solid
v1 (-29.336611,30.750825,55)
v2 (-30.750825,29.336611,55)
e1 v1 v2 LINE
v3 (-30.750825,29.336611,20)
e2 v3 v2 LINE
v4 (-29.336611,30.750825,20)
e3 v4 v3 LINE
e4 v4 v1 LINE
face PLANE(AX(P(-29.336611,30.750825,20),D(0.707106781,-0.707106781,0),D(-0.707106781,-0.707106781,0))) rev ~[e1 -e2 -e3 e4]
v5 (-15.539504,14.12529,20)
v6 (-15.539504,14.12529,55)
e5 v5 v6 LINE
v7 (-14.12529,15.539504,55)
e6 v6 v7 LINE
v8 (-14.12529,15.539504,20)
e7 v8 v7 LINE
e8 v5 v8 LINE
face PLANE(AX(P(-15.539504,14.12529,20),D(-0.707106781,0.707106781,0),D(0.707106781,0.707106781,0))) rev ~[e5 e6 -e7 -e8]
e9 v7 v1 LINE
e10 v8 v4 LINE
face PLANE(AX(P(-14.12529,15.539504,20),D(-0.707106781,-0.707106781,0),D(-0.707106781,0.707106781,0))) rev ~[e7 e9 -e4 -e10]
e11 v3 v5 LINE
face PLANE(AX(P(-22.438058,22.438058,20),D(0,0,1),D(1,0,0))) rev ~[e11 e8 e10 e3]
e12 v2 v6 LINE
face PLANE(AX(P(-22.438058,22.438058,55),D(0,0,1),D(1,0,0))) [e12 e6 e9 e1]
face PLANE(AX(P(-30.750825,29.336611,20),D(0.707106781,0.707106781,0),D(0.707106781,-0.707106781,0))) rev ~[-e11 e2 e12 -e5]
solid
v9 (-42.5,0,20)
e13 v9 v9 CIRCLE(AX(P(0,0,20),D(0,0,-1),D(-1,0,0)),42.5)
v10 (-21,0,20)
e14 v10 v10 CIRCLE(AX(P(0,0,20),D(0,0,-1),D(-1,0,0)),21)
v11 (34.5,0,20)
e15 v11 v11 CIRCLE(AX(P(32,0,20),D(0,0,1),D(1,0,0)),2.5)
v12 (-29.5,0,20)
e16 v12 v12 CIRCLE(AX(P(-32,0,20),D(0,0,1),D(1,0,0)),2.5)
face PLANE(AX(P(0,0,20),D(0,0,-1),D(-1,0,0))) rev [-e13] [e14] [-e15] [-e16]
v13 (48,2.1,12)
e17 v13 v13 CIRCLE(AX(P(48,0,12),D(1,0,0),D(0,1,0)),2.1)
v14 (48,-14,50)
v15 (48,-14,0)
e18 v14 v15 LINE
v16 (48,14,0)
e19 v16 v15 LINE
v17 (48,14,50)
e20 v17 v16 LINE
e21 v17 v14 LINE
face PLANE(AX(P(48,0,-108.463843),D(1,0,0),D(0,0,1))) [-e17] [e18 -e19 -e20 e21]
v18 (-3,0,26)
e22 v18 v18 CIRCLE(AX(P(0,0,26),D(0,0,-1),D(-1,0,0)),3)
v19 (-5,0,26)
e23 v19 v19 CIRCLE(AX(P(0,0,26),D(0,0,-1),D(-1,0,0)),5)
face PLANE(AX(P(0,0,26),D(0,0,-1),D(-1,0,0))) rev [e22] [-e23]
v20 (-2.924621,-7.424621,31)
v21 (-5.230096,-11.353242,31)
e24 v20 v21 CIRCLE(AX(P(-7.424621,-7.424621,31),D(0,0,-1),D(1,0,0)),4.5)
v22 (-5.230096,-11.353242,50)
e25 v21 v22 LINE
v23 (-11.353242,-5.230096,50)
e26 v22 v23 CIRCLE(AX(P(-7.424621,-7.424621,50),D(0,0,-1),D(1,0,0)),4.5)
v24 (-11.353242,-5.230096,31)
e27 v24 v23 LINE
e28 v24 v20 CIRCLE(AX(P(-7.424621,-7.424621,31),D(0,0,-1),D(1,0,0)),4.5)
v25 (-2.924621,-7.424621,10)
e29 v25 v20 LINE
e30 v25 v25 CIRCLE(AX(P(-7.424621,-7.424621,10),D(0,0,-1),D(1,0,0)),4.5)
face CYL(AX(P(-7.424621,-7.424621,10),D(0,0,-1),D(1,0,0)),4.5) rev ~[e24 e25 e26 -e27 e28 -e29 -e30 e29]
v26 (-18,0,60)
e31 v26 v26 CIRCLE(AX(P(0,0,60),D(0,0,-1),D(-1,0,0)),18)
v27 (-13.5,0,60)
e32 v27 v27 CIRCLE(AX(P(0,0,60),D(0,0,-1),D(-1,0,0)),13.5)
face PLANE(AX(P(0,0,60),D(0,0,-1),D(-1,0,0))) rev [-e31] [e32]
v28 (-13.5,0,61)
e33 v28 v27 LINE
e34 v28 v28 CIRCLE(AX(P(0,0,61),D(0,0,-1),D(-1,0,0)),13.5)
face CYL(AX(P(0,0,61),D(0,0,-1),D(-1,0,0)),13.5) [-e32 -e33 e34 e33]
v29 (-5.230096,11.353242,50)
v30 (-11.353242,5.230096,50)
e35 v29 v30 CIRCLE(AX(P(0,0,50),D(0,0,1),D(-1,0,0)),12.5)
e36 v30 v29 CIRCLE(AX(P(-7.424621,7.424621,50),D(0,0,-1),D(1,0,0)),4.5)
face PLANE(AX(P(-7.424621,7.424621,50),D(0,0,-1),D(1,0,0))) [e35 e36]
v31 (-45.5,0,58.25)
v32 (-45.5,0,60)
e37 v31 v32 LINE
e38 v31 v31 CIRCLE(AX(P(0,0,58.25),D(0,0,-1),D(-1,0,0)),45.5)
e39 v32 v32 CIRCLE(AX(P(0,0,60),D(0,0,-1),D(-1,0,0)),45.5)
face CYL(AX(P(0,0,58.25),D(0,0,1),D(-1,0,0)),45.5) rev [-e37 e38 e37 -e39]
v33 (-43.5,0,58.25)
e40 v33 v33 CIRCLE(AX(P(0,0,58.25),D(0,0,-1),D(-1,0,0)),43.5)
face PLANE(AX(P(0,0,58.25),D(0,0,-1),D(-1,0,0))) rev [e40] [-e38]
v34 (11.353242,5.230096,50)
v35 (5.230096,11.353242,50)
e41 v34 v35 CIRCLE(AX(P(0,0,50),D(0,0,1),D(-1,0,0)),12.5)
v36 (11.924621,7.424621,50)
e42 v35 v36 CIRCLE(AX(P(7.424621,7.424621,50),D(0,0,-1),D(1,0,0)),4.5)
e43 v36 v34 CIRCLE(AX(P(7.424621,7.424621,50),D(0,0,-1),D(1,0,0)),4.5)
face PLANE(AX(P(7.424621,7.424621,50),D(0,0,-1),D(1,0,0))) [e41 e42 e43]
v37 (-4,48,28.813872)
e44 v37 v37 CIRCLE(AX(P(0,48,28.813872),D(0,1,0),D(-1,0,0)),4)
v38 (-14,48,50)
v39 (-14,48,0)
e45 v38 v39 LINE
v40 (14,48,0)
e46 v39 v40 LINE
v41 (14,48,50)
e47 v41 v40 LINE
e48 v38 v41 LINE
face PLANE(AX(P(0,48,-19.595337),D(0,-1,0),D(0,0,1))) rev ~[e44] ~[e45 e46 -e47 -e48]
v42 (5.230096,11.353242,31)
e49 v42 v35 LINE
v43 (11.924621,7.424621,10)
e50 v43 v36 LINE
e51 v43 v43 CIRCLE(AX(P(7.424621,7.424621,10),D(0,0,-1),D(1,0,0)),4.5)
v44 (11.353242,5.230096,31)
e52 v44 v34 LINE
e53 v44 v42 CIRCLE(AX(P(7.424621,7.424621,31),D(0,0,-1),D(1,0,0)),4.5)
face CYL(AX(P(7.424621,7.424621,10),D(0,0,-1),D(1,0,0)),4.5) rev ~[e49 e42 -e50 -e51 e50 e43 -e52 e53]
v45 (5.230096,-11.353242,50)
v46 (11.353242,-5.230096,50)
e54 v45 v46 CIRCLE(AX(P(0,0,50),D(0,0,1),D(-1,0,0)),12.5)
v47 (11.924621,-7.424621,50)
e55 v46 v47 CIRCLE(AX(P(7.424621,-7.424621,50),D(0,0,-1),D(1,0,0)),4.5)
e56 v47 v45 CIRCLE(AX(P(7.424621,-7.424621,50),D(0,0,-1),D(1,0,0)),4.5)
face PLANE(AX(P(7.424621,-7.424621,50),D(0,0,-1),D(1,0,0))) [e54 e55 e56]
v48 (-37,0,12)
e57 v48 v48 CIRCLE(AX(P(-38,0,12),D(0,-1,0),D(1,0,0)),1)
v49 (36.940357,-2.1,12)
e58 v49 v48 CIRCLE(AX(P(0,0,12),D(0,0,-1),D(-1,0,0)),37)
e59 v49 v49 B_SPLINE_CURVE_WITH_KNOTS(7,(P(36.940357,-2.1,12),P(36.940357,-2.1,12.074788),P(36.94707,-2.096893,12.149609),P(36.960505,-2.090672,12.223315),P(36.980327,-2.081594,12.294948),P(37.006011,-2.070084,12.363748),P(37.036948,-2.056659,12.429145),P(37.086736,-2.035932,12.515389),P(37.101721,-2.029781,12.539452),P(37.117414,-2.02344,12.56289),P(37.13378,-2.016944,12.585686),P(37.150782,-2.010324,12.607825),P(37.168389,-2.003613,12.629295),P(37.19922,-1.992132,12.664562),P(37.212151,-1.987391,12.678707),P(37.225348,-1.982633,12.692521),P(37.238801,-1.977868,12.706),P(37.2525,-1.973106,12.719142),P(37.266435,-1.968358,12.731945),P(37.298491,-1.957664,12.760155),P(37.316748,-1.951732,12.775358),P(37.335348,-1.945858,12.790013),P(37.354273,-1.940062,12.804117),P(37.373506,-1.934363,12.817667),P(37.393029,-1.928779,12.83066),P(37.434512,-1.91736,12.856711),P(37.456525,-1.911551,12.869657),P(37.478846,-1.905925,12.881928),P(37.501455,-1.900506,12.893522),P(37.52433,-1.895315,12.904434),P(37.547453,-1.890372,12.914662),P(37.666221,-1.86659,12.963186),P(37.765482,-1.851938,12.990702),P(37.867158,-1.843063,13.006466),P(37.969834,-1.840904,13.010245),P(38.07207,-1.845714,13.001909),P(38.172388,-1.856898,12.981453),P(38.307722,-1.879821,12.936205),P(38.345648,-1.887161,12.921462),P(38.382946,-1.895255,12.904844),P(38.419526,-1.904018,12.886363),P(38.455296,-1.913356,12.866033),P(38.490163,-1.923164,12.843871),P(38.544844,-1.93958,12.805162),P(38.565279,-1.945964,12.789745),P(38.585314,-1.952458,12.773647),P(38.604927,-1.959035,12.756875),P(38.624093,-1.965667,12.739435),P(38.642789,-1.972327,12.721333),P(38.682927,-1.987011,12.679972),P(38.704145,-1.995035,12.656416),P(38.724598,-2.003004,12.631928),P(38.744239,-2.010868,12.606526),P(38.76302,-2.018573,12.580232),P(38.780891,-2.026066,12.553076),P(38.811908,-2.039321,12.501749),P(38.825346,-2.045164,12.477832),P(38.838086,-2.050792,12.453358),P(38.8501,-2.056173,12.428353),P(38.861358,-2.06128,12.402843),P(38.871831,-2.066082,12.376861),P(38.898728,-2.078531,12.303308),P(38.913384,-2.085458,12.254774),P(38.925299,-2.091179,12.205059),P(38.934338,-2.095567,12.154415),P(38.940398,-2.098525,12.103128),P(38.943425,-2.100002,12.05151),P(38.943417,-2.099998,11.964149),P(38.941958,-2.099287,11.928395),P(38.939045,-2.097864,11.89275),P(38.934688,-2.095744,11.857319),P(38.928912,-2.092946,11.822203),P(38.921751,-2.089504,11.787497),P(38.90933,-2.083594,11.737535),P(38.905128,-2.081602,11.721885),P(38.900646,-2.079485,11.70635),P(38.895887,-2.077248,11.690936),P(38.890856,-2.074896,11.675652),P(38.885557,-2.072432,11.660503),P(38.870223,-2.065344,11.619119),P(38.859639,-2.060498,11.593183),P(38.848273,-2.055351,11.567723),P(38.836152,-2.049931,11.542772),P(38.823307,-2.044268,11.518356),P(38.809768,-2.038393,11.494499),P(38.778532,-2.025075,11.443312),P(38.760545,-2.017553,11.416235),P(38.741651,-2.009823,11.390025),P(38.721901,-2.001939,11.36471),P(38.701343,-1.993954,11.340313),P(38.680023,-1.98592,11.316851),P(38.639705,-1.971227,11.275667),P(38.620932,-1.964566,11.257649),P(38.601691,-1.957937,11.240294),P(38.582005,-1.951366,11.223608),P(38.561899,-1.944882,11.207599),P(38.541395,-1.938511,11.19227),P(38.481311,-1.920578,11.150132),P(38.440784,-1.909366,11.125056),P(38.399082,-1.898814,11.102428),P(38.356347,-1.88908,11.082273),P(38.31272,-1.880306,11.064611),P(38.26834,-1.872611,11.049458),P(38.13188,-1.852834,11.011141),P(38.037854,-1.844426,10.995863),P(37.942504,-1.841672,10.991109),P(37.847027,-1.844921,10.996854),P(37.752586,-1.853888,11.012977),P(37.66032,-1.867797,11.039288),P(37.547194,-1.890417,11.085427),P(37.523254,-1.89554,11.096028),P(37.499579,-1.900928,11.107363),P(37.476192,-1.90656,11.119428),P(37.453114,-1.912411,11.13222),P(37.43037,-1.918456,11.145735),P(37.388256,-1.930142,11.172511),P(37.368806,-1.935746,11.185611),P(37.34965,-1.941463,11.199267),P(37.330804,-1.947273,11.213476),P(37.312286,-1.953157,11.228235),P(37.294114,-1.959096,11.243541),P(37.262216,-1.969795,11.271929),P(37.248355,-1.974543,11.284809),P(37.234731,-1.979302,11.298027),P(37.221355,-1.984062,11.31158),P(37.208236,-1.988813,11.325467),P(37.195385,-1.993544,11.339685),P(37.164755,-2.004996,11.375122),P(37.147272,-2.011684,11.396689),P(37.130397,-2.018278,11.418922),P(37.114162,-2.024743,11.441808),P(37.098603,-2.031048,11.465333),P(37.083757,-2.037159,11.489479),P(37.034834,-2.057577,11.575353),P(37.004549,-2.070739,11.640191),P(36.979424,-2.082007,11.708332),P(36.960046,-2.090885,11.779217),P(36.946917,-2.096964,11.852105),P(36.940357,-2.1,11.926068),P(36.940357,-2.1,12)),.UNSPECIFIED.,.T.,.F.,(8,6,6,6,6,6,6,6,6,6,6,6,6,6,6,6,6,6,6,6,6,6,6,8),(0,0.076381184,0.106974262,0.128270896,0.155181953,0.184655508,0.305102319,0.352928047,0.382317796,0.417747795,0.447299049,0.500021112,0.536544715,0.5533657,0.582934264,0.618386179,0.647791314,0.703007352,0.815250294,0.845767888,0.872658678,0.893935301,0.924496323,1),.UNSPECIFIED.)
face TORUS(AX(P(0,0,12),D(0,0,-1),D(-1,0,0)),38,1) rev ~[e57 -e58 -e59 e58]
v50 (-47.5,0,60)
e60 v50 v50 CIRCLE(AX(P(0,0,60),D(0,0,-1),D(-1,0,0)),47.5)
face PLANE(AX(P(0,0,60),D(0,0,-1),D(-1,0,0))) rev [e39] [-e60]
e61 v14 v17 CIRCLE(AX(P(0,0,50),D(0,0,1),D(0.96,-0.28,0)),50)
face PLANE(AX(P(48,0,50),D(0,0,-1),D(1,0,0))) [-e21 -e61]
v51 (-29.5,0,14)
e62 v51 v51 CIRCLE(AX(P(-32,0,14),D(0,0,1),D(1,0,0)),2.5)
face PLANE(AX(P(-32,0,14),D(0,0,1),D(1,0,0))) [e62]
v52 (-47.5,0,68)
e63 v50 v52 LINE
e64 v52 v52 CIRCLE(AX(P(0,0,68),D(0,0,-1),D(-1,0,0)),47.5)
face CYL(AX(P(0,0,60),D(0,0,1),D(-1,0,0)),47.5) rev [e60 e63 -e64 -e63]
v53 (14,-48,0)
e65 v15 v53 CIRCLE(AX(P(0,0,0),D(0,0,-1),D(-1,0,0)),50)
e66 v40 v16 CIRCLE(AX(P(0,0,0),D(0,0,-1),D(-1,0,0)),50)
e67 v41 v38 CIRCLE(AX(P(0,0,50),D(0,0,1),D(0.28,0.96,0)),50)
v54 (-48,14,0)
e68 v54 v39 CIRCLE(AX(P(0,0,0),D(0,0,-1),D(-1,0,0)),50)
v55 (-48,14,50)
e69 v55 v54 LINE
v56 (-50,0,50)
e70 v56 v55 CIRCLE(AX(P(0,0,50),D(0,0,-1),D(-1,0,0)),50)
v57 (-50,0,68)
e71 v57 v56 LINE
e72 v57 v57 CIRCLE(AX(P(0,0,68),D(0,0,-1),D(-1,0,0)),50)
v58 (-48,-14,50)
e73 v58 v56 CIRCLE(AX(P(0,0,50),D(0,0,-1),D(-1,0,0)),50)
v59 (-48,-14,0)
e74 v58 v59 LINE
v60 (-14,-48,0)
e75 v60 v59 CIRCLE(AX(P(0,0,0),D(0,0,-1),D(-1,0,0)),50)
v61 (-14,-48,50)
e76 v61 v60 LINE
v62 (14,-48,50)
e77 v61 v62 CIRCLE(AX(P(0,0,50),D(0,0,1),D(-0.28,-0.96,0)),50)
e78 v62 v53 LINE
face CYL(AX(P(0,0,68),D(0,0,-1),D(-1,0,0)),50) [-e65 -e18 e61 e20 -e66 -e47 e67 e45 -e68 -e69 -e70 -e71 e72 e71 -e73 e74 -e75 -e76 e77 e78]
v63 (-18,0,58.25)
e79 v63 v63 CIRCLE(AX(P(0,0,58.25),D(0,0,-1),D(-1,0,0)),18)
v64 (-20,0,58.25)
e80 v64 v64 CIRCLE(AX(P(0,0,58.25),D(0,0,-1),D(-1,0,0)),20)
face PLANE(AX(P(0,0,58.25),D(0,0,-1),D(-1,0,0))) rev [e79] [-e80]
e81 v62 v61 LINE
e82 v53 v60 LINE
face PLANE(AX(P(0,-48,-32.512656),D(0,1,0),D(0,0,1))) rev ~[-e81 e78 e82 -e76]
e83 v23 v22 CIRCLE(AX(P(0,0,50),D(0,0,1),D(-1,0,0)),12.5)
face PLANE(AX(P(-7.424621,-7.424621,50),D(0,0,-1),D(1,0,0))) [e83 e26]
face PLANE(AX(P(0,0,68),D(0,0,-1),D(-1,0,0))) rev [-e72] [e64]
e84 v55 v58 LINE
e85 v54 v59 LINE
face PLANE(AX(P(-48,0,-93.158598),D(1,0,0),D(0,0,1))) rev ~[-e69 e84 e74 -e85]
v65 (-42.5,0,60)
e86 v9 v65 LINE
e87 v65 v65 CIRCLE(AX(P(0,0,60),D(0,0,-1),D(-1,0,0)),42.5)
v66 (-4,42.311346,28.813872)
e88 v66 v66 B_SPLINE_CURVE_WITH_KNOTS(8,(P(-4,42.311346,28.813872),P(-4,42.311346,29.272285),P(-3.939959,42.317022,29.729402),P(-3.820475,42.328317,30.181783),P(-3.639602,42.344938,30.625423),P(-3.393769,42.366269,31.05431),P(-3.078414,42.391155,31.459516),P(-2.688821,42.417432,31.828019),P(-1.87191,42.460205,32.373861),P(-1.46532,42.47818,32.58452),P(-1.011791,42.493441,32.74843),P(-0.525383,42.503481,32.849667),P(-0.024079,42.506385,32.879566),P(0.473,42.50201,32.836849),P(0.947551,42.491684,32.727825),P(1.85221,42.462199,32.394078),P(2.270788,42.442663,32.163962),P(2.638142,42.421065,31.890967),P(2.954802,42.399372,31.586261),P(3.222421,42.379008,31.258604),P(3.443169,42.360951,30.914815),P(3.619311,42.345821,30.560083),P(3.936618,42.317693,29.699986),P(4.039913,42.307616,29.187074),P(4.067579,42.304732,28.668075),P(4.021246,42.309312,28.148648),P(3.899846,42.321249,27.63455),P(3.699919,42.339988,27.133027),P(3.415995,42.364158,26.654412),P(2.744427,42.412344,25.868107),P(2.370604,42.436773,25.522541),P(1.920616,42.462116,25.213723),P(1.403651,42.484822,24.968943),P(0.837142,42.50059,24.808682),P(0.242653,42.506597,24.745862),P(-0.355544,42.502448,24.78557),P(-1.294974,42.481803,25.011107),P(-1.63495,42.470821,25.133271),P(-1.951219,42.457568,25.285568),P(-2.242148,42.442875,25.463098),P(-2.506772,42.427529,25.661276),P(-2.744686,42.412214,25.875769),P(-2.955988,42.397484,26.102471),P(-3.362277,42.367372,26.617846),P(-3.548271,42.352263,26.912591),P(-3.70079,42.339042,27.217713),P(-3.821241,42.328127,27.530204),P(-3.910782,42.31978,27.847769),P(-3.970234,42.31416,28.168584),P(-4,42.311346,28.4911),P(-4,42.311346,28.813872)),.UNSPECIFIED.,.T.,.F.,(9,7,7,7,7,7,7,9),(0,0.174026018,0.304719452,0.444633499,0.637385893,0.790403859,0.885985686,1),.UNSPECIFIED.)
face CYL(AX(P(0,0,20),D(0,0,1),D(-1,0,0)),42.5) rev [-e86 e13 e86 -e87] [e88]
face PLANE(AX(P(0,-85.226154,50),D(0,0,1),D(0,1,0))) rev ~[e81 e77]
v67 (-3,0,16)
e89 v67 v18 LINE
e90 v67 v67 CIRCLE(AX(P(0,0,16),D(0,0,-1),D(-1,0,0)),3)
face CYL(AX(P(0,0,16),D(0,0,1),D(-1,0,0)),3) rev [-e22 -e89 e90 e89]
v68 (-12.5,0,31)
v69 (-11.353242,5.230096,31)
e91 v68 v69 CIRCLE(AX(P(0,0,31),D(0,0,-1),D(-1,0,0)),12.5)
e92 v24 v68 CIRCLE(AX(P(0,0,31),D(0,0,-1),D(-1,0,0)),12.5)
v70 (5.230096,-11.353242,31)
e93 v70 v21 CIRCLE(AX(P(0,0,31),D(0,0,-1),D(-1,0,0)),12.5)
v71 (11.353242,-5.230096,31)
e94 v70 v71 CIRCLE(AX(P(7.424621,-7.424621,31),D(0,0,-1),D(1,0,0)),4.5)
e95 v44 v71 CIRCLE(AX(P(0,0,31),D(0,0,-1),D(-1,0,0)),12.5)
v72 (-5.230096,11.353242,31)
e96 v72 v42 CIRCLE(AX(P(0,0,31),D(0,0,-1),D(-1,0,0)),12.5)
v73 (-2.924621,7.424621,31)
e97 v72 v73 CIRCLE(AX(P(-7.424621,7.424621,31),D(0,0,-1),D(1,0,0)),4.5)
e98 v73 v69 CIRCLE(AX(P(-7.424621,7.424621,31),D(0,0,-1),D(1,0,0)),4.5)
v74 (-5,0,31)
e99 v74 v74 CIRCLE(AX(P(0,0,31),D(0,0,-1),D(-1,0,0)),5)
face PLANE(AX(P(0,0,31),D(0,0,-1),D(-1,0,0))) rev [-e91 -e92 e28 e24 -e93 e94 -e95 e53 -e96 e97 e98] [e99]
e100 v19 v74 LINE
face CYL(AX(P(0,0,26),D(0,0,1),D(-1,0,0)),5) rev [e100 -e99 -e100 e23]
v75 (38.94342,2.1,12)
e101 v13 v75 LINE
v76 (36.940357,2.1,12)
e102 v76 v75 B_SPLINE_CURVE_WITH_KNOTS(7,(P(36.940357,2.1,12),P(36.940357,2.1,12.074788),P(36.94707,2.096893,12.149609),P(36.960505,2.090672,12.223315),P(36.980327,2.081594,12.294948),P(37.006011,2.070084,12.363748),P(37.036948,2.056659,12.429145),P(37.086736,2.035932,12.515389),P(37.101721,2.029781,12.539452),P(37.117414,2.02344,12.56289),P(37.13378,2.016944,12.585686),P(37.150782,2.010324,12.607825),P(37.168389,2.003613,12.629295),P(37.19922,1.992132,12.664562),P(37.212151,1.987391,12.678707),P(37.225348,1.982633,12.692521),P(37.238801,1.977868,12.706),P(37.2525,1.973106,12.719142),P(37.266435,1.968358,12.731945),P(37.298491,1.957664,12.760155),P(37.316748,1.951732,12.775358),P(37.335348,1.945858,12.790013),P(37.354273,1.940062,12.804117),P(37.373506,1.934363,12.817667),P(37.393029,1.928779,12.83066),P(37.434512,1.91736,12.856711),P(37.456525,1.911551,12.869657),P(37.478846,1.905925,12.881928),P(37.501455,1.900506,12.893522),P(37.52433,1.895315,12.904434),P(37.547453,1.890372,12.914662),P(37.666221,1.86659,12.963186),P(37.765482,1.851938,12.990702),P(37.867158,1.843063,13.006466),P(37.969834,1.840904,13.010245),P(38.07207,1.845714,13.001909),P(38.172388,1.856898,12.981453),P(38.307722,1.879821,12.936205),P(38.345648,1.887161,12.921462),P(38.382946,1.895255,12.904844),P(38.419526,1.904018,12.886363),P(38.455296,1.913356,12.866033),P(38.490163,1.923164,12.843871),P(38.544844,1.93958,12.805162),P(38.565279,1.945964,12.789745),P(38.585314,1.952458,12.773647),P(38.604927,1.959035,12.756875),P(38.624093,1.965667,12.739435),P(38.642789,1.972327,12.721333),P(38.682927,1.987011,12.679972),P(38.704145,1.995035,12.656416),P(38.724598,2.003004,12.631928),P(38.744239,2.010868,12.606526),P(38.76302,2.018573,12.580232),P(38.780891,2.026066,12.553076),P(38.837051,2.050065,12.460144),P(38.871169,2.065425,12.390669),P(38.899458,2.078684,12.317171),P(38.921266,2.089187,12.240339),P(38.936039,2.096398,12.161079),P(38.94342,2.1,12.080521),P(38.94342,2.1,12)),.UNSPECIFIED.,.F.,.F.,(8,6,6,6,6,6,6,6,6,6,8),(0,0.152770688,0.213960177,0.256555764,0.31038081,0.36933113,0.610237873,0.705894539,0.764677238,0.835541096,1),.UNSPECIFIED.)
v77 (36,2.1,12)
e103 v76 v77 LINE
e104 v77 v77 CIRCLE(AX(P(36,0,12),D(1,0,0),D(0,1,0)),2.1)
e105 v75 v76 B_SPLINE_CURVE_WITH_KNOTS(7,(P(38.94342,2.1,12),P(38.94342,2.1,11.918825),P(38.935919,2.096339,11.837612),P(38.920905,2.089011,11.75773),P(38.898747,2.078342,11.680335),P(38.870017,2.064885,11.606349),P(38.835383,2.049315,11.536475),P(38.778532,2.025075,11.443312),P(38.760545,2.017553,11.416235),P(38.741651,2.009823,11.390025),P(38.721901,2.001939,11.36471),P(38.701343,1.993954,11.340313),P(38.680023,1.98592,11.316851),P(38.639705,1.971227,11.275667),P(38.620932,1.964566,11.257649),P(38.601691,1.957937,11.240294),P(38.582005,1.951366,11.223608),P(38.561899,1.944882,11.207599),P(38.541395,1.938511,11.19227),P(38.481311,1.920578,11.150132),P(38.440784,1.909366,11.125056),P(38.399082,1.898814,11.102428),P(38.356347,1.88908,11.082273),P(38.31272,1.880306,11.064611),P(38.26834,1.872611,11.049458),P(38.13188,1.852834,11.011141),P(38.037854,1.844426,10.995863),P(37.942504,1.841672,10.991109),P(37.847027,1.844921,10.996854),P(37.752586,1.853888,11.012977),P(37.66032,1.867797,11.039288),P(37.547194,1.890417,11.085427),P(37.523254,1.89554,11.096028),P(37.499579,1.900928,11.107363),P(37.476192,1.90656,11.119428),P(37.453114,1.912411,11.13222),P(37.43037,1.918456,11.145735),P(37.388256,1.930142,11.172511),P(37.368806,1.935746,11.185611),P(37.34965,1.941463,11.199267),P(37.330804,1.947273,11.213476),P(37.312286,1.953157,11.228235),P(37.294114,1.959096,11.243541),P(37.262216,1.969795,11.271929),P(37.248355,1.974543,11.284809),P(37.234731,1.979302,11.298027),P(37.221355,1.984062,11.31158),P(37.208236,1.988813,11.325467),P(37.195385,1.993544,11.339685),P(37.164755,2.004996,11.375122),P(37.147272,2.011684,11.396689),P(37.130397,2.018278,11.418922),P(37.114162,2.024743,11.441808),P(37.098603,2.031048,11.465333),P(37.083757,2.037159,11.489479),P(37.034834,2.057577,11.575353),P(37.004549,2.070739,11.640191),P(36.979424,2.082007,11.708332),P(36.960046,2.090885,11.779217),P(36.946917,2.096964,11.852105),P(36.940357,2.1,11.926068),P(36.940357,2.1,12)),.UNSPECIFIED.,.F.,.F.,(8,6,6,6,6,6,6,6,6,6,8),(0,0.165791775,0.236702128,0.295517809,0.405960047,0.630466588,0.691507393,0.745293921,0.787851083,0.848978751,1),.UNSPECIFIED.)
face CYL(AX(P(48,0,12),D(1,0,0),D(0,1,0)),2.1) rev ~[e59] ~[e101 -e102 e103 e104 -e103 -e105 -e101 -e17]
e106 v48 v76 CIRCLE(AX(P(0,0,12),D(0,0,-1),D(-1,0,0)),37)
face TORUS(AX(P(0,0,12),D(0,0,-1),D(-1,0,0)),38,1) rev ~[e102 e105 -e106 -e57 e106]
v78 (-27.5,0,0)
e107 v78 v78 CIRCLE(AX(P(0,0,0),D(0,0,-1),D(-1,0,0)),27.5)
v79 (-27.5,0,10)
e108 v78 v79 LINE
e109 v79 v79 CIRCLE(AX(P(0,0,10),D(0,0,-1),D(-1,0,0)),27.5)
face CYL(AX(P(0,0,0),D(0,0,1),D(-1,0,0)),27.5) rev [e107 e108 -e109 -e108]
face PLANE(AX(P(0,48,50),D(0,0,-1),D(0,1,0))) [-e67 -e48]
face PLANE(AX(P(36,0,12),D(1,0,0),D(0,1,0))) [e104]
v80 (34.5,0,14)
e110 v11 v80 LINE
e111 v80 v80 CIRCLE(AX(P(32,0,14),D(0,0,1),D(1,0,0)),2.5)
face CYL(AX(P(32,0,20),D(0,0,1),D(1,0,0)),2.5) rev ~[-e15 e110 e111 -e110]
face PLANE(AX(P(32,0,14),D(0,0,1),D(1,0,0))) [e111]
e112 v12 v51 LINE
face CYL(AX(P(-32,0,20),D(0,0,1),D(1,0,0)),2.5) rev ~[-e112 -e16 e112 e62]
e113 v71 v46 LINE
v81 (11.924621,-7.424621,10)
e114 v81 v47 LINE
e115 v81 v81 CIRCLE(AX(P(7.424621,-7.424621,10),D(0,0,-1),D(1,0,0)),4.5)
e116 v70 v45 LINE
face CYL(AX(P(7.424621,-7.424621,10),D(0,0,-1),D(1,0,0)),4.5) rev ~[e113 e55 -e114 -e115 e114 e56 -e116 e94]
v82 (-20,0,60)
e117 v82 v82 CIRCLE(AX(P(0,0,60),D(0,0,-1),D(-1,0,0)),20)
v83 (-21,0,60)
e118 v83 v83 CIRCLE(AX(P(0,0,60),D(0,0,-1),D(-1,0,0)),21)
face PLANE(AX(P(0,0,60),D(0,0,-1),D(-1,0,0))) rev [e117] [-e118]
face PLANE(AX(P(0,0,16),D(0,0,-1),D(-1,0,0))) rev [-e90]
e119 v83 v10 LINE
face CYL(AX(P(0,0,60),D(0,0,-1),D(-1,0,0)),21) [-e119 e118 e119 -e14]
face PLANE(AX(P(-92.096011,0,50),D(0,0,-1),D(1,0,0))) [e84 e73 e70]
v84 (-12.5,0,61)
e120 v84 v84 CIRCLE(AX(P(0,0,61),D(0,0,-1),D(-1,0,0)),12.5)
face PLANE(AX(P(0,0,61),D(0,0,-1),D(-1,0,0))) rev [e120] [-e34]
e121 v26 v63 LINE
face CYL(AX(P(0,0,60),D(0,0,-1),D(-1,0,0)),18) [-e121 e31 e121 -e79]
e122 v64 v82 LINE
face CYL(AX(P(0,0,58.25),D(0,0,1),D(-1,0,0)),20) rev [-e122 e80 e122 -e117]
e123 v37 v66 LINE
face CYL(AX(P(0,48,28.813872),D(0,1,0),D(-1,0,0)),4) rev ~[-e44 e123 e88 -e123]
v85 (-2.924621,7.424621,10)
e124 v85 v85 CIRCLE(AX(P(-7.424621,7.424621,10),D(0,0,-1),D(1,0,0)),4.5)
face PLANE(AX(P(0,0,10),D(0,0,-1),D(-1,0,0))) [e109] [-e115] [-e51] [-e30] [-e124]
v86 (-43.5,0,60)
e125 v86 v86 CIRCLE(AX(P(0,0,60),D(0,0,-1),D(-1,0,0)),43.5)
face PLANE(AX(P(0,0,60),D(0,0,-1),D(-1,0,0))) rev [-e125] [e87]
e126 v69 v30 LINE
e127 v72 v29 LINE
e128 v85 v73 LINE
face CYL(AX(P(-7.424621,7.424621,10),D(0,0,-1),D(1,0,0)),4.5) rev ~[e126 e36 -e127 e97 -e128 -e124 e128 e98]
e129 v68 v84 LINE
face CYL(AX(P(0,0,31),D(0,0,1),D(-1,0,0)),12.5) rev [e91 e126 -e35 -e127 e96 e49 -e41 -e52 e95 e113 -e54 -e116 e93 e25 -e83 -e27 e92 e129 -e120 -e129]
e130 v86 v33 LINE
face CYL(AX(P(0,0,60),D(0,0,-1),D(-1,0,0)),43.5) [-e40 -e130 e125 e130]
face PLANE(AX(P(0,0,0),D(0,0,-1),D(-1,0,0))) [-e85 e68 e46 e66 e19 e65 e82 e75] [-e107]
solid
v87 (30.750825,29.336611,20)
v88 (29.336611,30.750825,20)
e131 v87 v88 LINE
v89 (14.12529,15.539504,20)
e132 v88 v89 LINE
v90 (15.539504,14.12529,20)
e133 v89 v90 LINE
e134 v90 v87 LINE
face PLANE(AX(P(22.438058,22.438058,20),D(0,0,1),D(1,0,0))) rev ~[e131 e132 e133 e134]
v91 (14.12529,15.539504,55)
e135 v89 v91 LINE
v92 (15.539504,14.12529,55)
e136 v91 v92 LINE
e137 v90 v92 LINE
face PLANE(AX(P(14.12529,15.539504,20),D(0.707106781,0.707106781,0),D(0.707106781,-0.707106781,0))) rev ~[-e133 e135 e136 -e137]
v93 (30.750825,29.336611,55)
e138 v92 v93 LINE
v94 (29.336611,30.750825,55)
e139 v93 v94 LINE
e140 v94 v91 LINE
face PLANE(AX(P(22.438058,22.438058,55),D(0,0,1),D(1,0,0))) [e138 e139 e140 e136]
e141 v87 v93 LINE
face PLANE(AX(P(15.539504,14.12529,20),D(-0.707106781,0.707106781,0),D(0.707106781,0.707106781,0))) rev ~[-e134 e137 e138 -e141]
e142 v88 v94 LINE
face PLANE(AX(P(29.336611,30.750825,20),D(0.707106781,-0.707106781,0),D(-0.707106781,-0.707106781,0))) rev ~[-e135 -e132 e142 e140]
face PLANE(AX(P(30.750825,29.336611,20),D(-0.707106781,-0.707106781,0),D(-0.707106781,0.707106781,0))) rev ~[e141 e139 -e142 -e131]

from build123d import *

# Parameters (mm, degrees)
F0_R           = 1
F2_W           = 44.0960112051
F2_H           = 143.1585978536
F2_W_2         = 29.2622874999
F2_H_2         = 158.4638434939
F3_DEPTH       = 50.001
F3_DEPTH_BACK  = 50.001
F4_R           = 2.1
F5_DEPTH       = 12
F6_R           = 4.5
F7_DEPTH       = 40
F8_R           = 2.5
F9_DEPTH       = 6
F11_DEPTH      = 35
F12_W          = 44.5515640792
F12_H          = 69.5953371296
F12_W_2        = 37.2261542232
F12_H_2        = 82.5126560354
F13_DEPTH      = 50.001
F13_DEPTH_BACK = 50.001
F14_R          = 4
F15_DEPTH      = 10


with BuildPart() as f1:
    # F0 (on Front) → F1 (revolve)
    with BuildSketch(Plane.XZ):
        Polygon((-47.5, 68), (-50, 68), (-50, 0), (-27.5, 0), (-27.5, 10), (0, 10), (0, 16), (-3, 16), (-3, 26), (-5, 26), (-5, 31), (-12.5, 31), (-12.5, 60), (-12.5, 61), (-13.5, 61), (-13.5, 60), (-18, 60), (-18, 58.25), (-20, 58.25), (-20, 60), (-21, 60), (-21, 20), (-42.5, 20), (-42.5, 60), (-43.5, 60), (-43.5, 58.25), (-45.5, 58.25), (-45.5, 60), (-47.5, 60), align=None)
        with Locations((-38, 12)):
            Circle(F0_R, mode=Mode.SUBTRACT)
    revolve(axis=Axis((0, 0, 27.3842578754), (0, 0, -1)))

    # F2 (on Front) → F3 (cut, two sides)
    with BuildSketch(Plane.XZ) as f3_sk:
        with Locations((-70.0480056025, -21.5792989268)):
            Rectangle(F2_W, F2_H)
        with Locations((62.6311437499, -29.2319217469)):
            Rectangle(F2_W_2, F2_H_2)
    extrude(amount=F3_DEPTH, mode=Mode.SUBTRACT)
    extrude(f3_sk.sketch, amount=-F3_DEPTH_BACK, mode=Mode.SUBTRACT)

    # F4 (on face) → F5 (cut)
    with BuildSketch(Plane.YZ.offset(48)):
        with Locations((0, 12)):
            Circle(F4_R)
    extrude(amount=-F5_DEPTH, mode=Mode.SUBTRACT)

    # F6 (on face) → F7 (cut)
    with BuildSketch(Plane(origin=(0, 0, 10), x_dir=(1, 0, 0), z_dir=(0, 0, -1))):
        with Locations((7.4246212025, 7.4246212025)):
            Circle(F6_R)
        with Locations((-7.4246212025, 7.4246212025)):
            Circle(F6_R)
        with Locations((-7.4246212025, -7.4246212025)):
            Circle(F6_R)
        with Locations((7.4246212025, -7.4246212025)):
            Circle(F6_R)
    extrude(amount=-F7_DEPTH, mode=Mode.SUBTRACT)

    # F8 (on face) → F9 (cut)
    with BuildSketch(Plane.XY.offset(20)):
        with Locations((-32, 0)):
            Circle(F8_R)
        with Locations((32, 0)):
            Circle(F8_R)
    extrude(amount=-F9_DEPTH, mode=Mode.SUBTRACT)

    # F12 (on Right) → F13 (cut, two sides)
    with BuildSketch(Plane.YZ) as f13_sk:
        with Locations((70.2757820396, 15.2023314352)):
            Rectangle(F12_W, F12_H)
        with Locations((-66.6130771116, 8.7436719823)):
            Rectangle(F12_W_2, F12_H_2)
    extrude(amount=-F13_DEPTH, mode=Mode.SUBTRACT)
    extrude(f13_sk.sketch, amount=F13_DEPTH_BACK, mode=Mode.SUBTRACT)

    # F14 (on face) → F15 (cut)
    with BuildSketch(Plane(origin=(0, 48, 0), x_dir=(-1, 0, 0), z_dir=(0, 1, 0))):
        with Locations((0, 28.8138720456)):
            Circle(F14_R)
    extrude(amount=-F15_DEPTH, mode=Mode.SUBTRACT)


with BuildPart() as f11:
    # F10 (on face) → F11 (new body)
    with BuildSketch(Plane.XY.offset(20)):
        Polygon((29.3366113642, 30.7508249266), (14.125290193, 15.5395037554), (15.5395037554, 14.125290193), (30.7508249266, 29.3366113642), align=None)
    extrude(amount=F11_DEPTH)


with BuildPart() as f11b:
    # F10 (on face) → F11, piece 2 (new body)
    with BuildSketch(Plane.XY.offset(20)):
        Polygon((-15.5395037554, 14.125290193), (-14.125290193, 15.5395037554), (-29.3366113642, 30.7508249266), (-30.7508249266, 29.3366113642), align=None)
    extrude(amount=F11_DEPTH)


solid = Compound([f1.part, f11.part, f11b.part])
